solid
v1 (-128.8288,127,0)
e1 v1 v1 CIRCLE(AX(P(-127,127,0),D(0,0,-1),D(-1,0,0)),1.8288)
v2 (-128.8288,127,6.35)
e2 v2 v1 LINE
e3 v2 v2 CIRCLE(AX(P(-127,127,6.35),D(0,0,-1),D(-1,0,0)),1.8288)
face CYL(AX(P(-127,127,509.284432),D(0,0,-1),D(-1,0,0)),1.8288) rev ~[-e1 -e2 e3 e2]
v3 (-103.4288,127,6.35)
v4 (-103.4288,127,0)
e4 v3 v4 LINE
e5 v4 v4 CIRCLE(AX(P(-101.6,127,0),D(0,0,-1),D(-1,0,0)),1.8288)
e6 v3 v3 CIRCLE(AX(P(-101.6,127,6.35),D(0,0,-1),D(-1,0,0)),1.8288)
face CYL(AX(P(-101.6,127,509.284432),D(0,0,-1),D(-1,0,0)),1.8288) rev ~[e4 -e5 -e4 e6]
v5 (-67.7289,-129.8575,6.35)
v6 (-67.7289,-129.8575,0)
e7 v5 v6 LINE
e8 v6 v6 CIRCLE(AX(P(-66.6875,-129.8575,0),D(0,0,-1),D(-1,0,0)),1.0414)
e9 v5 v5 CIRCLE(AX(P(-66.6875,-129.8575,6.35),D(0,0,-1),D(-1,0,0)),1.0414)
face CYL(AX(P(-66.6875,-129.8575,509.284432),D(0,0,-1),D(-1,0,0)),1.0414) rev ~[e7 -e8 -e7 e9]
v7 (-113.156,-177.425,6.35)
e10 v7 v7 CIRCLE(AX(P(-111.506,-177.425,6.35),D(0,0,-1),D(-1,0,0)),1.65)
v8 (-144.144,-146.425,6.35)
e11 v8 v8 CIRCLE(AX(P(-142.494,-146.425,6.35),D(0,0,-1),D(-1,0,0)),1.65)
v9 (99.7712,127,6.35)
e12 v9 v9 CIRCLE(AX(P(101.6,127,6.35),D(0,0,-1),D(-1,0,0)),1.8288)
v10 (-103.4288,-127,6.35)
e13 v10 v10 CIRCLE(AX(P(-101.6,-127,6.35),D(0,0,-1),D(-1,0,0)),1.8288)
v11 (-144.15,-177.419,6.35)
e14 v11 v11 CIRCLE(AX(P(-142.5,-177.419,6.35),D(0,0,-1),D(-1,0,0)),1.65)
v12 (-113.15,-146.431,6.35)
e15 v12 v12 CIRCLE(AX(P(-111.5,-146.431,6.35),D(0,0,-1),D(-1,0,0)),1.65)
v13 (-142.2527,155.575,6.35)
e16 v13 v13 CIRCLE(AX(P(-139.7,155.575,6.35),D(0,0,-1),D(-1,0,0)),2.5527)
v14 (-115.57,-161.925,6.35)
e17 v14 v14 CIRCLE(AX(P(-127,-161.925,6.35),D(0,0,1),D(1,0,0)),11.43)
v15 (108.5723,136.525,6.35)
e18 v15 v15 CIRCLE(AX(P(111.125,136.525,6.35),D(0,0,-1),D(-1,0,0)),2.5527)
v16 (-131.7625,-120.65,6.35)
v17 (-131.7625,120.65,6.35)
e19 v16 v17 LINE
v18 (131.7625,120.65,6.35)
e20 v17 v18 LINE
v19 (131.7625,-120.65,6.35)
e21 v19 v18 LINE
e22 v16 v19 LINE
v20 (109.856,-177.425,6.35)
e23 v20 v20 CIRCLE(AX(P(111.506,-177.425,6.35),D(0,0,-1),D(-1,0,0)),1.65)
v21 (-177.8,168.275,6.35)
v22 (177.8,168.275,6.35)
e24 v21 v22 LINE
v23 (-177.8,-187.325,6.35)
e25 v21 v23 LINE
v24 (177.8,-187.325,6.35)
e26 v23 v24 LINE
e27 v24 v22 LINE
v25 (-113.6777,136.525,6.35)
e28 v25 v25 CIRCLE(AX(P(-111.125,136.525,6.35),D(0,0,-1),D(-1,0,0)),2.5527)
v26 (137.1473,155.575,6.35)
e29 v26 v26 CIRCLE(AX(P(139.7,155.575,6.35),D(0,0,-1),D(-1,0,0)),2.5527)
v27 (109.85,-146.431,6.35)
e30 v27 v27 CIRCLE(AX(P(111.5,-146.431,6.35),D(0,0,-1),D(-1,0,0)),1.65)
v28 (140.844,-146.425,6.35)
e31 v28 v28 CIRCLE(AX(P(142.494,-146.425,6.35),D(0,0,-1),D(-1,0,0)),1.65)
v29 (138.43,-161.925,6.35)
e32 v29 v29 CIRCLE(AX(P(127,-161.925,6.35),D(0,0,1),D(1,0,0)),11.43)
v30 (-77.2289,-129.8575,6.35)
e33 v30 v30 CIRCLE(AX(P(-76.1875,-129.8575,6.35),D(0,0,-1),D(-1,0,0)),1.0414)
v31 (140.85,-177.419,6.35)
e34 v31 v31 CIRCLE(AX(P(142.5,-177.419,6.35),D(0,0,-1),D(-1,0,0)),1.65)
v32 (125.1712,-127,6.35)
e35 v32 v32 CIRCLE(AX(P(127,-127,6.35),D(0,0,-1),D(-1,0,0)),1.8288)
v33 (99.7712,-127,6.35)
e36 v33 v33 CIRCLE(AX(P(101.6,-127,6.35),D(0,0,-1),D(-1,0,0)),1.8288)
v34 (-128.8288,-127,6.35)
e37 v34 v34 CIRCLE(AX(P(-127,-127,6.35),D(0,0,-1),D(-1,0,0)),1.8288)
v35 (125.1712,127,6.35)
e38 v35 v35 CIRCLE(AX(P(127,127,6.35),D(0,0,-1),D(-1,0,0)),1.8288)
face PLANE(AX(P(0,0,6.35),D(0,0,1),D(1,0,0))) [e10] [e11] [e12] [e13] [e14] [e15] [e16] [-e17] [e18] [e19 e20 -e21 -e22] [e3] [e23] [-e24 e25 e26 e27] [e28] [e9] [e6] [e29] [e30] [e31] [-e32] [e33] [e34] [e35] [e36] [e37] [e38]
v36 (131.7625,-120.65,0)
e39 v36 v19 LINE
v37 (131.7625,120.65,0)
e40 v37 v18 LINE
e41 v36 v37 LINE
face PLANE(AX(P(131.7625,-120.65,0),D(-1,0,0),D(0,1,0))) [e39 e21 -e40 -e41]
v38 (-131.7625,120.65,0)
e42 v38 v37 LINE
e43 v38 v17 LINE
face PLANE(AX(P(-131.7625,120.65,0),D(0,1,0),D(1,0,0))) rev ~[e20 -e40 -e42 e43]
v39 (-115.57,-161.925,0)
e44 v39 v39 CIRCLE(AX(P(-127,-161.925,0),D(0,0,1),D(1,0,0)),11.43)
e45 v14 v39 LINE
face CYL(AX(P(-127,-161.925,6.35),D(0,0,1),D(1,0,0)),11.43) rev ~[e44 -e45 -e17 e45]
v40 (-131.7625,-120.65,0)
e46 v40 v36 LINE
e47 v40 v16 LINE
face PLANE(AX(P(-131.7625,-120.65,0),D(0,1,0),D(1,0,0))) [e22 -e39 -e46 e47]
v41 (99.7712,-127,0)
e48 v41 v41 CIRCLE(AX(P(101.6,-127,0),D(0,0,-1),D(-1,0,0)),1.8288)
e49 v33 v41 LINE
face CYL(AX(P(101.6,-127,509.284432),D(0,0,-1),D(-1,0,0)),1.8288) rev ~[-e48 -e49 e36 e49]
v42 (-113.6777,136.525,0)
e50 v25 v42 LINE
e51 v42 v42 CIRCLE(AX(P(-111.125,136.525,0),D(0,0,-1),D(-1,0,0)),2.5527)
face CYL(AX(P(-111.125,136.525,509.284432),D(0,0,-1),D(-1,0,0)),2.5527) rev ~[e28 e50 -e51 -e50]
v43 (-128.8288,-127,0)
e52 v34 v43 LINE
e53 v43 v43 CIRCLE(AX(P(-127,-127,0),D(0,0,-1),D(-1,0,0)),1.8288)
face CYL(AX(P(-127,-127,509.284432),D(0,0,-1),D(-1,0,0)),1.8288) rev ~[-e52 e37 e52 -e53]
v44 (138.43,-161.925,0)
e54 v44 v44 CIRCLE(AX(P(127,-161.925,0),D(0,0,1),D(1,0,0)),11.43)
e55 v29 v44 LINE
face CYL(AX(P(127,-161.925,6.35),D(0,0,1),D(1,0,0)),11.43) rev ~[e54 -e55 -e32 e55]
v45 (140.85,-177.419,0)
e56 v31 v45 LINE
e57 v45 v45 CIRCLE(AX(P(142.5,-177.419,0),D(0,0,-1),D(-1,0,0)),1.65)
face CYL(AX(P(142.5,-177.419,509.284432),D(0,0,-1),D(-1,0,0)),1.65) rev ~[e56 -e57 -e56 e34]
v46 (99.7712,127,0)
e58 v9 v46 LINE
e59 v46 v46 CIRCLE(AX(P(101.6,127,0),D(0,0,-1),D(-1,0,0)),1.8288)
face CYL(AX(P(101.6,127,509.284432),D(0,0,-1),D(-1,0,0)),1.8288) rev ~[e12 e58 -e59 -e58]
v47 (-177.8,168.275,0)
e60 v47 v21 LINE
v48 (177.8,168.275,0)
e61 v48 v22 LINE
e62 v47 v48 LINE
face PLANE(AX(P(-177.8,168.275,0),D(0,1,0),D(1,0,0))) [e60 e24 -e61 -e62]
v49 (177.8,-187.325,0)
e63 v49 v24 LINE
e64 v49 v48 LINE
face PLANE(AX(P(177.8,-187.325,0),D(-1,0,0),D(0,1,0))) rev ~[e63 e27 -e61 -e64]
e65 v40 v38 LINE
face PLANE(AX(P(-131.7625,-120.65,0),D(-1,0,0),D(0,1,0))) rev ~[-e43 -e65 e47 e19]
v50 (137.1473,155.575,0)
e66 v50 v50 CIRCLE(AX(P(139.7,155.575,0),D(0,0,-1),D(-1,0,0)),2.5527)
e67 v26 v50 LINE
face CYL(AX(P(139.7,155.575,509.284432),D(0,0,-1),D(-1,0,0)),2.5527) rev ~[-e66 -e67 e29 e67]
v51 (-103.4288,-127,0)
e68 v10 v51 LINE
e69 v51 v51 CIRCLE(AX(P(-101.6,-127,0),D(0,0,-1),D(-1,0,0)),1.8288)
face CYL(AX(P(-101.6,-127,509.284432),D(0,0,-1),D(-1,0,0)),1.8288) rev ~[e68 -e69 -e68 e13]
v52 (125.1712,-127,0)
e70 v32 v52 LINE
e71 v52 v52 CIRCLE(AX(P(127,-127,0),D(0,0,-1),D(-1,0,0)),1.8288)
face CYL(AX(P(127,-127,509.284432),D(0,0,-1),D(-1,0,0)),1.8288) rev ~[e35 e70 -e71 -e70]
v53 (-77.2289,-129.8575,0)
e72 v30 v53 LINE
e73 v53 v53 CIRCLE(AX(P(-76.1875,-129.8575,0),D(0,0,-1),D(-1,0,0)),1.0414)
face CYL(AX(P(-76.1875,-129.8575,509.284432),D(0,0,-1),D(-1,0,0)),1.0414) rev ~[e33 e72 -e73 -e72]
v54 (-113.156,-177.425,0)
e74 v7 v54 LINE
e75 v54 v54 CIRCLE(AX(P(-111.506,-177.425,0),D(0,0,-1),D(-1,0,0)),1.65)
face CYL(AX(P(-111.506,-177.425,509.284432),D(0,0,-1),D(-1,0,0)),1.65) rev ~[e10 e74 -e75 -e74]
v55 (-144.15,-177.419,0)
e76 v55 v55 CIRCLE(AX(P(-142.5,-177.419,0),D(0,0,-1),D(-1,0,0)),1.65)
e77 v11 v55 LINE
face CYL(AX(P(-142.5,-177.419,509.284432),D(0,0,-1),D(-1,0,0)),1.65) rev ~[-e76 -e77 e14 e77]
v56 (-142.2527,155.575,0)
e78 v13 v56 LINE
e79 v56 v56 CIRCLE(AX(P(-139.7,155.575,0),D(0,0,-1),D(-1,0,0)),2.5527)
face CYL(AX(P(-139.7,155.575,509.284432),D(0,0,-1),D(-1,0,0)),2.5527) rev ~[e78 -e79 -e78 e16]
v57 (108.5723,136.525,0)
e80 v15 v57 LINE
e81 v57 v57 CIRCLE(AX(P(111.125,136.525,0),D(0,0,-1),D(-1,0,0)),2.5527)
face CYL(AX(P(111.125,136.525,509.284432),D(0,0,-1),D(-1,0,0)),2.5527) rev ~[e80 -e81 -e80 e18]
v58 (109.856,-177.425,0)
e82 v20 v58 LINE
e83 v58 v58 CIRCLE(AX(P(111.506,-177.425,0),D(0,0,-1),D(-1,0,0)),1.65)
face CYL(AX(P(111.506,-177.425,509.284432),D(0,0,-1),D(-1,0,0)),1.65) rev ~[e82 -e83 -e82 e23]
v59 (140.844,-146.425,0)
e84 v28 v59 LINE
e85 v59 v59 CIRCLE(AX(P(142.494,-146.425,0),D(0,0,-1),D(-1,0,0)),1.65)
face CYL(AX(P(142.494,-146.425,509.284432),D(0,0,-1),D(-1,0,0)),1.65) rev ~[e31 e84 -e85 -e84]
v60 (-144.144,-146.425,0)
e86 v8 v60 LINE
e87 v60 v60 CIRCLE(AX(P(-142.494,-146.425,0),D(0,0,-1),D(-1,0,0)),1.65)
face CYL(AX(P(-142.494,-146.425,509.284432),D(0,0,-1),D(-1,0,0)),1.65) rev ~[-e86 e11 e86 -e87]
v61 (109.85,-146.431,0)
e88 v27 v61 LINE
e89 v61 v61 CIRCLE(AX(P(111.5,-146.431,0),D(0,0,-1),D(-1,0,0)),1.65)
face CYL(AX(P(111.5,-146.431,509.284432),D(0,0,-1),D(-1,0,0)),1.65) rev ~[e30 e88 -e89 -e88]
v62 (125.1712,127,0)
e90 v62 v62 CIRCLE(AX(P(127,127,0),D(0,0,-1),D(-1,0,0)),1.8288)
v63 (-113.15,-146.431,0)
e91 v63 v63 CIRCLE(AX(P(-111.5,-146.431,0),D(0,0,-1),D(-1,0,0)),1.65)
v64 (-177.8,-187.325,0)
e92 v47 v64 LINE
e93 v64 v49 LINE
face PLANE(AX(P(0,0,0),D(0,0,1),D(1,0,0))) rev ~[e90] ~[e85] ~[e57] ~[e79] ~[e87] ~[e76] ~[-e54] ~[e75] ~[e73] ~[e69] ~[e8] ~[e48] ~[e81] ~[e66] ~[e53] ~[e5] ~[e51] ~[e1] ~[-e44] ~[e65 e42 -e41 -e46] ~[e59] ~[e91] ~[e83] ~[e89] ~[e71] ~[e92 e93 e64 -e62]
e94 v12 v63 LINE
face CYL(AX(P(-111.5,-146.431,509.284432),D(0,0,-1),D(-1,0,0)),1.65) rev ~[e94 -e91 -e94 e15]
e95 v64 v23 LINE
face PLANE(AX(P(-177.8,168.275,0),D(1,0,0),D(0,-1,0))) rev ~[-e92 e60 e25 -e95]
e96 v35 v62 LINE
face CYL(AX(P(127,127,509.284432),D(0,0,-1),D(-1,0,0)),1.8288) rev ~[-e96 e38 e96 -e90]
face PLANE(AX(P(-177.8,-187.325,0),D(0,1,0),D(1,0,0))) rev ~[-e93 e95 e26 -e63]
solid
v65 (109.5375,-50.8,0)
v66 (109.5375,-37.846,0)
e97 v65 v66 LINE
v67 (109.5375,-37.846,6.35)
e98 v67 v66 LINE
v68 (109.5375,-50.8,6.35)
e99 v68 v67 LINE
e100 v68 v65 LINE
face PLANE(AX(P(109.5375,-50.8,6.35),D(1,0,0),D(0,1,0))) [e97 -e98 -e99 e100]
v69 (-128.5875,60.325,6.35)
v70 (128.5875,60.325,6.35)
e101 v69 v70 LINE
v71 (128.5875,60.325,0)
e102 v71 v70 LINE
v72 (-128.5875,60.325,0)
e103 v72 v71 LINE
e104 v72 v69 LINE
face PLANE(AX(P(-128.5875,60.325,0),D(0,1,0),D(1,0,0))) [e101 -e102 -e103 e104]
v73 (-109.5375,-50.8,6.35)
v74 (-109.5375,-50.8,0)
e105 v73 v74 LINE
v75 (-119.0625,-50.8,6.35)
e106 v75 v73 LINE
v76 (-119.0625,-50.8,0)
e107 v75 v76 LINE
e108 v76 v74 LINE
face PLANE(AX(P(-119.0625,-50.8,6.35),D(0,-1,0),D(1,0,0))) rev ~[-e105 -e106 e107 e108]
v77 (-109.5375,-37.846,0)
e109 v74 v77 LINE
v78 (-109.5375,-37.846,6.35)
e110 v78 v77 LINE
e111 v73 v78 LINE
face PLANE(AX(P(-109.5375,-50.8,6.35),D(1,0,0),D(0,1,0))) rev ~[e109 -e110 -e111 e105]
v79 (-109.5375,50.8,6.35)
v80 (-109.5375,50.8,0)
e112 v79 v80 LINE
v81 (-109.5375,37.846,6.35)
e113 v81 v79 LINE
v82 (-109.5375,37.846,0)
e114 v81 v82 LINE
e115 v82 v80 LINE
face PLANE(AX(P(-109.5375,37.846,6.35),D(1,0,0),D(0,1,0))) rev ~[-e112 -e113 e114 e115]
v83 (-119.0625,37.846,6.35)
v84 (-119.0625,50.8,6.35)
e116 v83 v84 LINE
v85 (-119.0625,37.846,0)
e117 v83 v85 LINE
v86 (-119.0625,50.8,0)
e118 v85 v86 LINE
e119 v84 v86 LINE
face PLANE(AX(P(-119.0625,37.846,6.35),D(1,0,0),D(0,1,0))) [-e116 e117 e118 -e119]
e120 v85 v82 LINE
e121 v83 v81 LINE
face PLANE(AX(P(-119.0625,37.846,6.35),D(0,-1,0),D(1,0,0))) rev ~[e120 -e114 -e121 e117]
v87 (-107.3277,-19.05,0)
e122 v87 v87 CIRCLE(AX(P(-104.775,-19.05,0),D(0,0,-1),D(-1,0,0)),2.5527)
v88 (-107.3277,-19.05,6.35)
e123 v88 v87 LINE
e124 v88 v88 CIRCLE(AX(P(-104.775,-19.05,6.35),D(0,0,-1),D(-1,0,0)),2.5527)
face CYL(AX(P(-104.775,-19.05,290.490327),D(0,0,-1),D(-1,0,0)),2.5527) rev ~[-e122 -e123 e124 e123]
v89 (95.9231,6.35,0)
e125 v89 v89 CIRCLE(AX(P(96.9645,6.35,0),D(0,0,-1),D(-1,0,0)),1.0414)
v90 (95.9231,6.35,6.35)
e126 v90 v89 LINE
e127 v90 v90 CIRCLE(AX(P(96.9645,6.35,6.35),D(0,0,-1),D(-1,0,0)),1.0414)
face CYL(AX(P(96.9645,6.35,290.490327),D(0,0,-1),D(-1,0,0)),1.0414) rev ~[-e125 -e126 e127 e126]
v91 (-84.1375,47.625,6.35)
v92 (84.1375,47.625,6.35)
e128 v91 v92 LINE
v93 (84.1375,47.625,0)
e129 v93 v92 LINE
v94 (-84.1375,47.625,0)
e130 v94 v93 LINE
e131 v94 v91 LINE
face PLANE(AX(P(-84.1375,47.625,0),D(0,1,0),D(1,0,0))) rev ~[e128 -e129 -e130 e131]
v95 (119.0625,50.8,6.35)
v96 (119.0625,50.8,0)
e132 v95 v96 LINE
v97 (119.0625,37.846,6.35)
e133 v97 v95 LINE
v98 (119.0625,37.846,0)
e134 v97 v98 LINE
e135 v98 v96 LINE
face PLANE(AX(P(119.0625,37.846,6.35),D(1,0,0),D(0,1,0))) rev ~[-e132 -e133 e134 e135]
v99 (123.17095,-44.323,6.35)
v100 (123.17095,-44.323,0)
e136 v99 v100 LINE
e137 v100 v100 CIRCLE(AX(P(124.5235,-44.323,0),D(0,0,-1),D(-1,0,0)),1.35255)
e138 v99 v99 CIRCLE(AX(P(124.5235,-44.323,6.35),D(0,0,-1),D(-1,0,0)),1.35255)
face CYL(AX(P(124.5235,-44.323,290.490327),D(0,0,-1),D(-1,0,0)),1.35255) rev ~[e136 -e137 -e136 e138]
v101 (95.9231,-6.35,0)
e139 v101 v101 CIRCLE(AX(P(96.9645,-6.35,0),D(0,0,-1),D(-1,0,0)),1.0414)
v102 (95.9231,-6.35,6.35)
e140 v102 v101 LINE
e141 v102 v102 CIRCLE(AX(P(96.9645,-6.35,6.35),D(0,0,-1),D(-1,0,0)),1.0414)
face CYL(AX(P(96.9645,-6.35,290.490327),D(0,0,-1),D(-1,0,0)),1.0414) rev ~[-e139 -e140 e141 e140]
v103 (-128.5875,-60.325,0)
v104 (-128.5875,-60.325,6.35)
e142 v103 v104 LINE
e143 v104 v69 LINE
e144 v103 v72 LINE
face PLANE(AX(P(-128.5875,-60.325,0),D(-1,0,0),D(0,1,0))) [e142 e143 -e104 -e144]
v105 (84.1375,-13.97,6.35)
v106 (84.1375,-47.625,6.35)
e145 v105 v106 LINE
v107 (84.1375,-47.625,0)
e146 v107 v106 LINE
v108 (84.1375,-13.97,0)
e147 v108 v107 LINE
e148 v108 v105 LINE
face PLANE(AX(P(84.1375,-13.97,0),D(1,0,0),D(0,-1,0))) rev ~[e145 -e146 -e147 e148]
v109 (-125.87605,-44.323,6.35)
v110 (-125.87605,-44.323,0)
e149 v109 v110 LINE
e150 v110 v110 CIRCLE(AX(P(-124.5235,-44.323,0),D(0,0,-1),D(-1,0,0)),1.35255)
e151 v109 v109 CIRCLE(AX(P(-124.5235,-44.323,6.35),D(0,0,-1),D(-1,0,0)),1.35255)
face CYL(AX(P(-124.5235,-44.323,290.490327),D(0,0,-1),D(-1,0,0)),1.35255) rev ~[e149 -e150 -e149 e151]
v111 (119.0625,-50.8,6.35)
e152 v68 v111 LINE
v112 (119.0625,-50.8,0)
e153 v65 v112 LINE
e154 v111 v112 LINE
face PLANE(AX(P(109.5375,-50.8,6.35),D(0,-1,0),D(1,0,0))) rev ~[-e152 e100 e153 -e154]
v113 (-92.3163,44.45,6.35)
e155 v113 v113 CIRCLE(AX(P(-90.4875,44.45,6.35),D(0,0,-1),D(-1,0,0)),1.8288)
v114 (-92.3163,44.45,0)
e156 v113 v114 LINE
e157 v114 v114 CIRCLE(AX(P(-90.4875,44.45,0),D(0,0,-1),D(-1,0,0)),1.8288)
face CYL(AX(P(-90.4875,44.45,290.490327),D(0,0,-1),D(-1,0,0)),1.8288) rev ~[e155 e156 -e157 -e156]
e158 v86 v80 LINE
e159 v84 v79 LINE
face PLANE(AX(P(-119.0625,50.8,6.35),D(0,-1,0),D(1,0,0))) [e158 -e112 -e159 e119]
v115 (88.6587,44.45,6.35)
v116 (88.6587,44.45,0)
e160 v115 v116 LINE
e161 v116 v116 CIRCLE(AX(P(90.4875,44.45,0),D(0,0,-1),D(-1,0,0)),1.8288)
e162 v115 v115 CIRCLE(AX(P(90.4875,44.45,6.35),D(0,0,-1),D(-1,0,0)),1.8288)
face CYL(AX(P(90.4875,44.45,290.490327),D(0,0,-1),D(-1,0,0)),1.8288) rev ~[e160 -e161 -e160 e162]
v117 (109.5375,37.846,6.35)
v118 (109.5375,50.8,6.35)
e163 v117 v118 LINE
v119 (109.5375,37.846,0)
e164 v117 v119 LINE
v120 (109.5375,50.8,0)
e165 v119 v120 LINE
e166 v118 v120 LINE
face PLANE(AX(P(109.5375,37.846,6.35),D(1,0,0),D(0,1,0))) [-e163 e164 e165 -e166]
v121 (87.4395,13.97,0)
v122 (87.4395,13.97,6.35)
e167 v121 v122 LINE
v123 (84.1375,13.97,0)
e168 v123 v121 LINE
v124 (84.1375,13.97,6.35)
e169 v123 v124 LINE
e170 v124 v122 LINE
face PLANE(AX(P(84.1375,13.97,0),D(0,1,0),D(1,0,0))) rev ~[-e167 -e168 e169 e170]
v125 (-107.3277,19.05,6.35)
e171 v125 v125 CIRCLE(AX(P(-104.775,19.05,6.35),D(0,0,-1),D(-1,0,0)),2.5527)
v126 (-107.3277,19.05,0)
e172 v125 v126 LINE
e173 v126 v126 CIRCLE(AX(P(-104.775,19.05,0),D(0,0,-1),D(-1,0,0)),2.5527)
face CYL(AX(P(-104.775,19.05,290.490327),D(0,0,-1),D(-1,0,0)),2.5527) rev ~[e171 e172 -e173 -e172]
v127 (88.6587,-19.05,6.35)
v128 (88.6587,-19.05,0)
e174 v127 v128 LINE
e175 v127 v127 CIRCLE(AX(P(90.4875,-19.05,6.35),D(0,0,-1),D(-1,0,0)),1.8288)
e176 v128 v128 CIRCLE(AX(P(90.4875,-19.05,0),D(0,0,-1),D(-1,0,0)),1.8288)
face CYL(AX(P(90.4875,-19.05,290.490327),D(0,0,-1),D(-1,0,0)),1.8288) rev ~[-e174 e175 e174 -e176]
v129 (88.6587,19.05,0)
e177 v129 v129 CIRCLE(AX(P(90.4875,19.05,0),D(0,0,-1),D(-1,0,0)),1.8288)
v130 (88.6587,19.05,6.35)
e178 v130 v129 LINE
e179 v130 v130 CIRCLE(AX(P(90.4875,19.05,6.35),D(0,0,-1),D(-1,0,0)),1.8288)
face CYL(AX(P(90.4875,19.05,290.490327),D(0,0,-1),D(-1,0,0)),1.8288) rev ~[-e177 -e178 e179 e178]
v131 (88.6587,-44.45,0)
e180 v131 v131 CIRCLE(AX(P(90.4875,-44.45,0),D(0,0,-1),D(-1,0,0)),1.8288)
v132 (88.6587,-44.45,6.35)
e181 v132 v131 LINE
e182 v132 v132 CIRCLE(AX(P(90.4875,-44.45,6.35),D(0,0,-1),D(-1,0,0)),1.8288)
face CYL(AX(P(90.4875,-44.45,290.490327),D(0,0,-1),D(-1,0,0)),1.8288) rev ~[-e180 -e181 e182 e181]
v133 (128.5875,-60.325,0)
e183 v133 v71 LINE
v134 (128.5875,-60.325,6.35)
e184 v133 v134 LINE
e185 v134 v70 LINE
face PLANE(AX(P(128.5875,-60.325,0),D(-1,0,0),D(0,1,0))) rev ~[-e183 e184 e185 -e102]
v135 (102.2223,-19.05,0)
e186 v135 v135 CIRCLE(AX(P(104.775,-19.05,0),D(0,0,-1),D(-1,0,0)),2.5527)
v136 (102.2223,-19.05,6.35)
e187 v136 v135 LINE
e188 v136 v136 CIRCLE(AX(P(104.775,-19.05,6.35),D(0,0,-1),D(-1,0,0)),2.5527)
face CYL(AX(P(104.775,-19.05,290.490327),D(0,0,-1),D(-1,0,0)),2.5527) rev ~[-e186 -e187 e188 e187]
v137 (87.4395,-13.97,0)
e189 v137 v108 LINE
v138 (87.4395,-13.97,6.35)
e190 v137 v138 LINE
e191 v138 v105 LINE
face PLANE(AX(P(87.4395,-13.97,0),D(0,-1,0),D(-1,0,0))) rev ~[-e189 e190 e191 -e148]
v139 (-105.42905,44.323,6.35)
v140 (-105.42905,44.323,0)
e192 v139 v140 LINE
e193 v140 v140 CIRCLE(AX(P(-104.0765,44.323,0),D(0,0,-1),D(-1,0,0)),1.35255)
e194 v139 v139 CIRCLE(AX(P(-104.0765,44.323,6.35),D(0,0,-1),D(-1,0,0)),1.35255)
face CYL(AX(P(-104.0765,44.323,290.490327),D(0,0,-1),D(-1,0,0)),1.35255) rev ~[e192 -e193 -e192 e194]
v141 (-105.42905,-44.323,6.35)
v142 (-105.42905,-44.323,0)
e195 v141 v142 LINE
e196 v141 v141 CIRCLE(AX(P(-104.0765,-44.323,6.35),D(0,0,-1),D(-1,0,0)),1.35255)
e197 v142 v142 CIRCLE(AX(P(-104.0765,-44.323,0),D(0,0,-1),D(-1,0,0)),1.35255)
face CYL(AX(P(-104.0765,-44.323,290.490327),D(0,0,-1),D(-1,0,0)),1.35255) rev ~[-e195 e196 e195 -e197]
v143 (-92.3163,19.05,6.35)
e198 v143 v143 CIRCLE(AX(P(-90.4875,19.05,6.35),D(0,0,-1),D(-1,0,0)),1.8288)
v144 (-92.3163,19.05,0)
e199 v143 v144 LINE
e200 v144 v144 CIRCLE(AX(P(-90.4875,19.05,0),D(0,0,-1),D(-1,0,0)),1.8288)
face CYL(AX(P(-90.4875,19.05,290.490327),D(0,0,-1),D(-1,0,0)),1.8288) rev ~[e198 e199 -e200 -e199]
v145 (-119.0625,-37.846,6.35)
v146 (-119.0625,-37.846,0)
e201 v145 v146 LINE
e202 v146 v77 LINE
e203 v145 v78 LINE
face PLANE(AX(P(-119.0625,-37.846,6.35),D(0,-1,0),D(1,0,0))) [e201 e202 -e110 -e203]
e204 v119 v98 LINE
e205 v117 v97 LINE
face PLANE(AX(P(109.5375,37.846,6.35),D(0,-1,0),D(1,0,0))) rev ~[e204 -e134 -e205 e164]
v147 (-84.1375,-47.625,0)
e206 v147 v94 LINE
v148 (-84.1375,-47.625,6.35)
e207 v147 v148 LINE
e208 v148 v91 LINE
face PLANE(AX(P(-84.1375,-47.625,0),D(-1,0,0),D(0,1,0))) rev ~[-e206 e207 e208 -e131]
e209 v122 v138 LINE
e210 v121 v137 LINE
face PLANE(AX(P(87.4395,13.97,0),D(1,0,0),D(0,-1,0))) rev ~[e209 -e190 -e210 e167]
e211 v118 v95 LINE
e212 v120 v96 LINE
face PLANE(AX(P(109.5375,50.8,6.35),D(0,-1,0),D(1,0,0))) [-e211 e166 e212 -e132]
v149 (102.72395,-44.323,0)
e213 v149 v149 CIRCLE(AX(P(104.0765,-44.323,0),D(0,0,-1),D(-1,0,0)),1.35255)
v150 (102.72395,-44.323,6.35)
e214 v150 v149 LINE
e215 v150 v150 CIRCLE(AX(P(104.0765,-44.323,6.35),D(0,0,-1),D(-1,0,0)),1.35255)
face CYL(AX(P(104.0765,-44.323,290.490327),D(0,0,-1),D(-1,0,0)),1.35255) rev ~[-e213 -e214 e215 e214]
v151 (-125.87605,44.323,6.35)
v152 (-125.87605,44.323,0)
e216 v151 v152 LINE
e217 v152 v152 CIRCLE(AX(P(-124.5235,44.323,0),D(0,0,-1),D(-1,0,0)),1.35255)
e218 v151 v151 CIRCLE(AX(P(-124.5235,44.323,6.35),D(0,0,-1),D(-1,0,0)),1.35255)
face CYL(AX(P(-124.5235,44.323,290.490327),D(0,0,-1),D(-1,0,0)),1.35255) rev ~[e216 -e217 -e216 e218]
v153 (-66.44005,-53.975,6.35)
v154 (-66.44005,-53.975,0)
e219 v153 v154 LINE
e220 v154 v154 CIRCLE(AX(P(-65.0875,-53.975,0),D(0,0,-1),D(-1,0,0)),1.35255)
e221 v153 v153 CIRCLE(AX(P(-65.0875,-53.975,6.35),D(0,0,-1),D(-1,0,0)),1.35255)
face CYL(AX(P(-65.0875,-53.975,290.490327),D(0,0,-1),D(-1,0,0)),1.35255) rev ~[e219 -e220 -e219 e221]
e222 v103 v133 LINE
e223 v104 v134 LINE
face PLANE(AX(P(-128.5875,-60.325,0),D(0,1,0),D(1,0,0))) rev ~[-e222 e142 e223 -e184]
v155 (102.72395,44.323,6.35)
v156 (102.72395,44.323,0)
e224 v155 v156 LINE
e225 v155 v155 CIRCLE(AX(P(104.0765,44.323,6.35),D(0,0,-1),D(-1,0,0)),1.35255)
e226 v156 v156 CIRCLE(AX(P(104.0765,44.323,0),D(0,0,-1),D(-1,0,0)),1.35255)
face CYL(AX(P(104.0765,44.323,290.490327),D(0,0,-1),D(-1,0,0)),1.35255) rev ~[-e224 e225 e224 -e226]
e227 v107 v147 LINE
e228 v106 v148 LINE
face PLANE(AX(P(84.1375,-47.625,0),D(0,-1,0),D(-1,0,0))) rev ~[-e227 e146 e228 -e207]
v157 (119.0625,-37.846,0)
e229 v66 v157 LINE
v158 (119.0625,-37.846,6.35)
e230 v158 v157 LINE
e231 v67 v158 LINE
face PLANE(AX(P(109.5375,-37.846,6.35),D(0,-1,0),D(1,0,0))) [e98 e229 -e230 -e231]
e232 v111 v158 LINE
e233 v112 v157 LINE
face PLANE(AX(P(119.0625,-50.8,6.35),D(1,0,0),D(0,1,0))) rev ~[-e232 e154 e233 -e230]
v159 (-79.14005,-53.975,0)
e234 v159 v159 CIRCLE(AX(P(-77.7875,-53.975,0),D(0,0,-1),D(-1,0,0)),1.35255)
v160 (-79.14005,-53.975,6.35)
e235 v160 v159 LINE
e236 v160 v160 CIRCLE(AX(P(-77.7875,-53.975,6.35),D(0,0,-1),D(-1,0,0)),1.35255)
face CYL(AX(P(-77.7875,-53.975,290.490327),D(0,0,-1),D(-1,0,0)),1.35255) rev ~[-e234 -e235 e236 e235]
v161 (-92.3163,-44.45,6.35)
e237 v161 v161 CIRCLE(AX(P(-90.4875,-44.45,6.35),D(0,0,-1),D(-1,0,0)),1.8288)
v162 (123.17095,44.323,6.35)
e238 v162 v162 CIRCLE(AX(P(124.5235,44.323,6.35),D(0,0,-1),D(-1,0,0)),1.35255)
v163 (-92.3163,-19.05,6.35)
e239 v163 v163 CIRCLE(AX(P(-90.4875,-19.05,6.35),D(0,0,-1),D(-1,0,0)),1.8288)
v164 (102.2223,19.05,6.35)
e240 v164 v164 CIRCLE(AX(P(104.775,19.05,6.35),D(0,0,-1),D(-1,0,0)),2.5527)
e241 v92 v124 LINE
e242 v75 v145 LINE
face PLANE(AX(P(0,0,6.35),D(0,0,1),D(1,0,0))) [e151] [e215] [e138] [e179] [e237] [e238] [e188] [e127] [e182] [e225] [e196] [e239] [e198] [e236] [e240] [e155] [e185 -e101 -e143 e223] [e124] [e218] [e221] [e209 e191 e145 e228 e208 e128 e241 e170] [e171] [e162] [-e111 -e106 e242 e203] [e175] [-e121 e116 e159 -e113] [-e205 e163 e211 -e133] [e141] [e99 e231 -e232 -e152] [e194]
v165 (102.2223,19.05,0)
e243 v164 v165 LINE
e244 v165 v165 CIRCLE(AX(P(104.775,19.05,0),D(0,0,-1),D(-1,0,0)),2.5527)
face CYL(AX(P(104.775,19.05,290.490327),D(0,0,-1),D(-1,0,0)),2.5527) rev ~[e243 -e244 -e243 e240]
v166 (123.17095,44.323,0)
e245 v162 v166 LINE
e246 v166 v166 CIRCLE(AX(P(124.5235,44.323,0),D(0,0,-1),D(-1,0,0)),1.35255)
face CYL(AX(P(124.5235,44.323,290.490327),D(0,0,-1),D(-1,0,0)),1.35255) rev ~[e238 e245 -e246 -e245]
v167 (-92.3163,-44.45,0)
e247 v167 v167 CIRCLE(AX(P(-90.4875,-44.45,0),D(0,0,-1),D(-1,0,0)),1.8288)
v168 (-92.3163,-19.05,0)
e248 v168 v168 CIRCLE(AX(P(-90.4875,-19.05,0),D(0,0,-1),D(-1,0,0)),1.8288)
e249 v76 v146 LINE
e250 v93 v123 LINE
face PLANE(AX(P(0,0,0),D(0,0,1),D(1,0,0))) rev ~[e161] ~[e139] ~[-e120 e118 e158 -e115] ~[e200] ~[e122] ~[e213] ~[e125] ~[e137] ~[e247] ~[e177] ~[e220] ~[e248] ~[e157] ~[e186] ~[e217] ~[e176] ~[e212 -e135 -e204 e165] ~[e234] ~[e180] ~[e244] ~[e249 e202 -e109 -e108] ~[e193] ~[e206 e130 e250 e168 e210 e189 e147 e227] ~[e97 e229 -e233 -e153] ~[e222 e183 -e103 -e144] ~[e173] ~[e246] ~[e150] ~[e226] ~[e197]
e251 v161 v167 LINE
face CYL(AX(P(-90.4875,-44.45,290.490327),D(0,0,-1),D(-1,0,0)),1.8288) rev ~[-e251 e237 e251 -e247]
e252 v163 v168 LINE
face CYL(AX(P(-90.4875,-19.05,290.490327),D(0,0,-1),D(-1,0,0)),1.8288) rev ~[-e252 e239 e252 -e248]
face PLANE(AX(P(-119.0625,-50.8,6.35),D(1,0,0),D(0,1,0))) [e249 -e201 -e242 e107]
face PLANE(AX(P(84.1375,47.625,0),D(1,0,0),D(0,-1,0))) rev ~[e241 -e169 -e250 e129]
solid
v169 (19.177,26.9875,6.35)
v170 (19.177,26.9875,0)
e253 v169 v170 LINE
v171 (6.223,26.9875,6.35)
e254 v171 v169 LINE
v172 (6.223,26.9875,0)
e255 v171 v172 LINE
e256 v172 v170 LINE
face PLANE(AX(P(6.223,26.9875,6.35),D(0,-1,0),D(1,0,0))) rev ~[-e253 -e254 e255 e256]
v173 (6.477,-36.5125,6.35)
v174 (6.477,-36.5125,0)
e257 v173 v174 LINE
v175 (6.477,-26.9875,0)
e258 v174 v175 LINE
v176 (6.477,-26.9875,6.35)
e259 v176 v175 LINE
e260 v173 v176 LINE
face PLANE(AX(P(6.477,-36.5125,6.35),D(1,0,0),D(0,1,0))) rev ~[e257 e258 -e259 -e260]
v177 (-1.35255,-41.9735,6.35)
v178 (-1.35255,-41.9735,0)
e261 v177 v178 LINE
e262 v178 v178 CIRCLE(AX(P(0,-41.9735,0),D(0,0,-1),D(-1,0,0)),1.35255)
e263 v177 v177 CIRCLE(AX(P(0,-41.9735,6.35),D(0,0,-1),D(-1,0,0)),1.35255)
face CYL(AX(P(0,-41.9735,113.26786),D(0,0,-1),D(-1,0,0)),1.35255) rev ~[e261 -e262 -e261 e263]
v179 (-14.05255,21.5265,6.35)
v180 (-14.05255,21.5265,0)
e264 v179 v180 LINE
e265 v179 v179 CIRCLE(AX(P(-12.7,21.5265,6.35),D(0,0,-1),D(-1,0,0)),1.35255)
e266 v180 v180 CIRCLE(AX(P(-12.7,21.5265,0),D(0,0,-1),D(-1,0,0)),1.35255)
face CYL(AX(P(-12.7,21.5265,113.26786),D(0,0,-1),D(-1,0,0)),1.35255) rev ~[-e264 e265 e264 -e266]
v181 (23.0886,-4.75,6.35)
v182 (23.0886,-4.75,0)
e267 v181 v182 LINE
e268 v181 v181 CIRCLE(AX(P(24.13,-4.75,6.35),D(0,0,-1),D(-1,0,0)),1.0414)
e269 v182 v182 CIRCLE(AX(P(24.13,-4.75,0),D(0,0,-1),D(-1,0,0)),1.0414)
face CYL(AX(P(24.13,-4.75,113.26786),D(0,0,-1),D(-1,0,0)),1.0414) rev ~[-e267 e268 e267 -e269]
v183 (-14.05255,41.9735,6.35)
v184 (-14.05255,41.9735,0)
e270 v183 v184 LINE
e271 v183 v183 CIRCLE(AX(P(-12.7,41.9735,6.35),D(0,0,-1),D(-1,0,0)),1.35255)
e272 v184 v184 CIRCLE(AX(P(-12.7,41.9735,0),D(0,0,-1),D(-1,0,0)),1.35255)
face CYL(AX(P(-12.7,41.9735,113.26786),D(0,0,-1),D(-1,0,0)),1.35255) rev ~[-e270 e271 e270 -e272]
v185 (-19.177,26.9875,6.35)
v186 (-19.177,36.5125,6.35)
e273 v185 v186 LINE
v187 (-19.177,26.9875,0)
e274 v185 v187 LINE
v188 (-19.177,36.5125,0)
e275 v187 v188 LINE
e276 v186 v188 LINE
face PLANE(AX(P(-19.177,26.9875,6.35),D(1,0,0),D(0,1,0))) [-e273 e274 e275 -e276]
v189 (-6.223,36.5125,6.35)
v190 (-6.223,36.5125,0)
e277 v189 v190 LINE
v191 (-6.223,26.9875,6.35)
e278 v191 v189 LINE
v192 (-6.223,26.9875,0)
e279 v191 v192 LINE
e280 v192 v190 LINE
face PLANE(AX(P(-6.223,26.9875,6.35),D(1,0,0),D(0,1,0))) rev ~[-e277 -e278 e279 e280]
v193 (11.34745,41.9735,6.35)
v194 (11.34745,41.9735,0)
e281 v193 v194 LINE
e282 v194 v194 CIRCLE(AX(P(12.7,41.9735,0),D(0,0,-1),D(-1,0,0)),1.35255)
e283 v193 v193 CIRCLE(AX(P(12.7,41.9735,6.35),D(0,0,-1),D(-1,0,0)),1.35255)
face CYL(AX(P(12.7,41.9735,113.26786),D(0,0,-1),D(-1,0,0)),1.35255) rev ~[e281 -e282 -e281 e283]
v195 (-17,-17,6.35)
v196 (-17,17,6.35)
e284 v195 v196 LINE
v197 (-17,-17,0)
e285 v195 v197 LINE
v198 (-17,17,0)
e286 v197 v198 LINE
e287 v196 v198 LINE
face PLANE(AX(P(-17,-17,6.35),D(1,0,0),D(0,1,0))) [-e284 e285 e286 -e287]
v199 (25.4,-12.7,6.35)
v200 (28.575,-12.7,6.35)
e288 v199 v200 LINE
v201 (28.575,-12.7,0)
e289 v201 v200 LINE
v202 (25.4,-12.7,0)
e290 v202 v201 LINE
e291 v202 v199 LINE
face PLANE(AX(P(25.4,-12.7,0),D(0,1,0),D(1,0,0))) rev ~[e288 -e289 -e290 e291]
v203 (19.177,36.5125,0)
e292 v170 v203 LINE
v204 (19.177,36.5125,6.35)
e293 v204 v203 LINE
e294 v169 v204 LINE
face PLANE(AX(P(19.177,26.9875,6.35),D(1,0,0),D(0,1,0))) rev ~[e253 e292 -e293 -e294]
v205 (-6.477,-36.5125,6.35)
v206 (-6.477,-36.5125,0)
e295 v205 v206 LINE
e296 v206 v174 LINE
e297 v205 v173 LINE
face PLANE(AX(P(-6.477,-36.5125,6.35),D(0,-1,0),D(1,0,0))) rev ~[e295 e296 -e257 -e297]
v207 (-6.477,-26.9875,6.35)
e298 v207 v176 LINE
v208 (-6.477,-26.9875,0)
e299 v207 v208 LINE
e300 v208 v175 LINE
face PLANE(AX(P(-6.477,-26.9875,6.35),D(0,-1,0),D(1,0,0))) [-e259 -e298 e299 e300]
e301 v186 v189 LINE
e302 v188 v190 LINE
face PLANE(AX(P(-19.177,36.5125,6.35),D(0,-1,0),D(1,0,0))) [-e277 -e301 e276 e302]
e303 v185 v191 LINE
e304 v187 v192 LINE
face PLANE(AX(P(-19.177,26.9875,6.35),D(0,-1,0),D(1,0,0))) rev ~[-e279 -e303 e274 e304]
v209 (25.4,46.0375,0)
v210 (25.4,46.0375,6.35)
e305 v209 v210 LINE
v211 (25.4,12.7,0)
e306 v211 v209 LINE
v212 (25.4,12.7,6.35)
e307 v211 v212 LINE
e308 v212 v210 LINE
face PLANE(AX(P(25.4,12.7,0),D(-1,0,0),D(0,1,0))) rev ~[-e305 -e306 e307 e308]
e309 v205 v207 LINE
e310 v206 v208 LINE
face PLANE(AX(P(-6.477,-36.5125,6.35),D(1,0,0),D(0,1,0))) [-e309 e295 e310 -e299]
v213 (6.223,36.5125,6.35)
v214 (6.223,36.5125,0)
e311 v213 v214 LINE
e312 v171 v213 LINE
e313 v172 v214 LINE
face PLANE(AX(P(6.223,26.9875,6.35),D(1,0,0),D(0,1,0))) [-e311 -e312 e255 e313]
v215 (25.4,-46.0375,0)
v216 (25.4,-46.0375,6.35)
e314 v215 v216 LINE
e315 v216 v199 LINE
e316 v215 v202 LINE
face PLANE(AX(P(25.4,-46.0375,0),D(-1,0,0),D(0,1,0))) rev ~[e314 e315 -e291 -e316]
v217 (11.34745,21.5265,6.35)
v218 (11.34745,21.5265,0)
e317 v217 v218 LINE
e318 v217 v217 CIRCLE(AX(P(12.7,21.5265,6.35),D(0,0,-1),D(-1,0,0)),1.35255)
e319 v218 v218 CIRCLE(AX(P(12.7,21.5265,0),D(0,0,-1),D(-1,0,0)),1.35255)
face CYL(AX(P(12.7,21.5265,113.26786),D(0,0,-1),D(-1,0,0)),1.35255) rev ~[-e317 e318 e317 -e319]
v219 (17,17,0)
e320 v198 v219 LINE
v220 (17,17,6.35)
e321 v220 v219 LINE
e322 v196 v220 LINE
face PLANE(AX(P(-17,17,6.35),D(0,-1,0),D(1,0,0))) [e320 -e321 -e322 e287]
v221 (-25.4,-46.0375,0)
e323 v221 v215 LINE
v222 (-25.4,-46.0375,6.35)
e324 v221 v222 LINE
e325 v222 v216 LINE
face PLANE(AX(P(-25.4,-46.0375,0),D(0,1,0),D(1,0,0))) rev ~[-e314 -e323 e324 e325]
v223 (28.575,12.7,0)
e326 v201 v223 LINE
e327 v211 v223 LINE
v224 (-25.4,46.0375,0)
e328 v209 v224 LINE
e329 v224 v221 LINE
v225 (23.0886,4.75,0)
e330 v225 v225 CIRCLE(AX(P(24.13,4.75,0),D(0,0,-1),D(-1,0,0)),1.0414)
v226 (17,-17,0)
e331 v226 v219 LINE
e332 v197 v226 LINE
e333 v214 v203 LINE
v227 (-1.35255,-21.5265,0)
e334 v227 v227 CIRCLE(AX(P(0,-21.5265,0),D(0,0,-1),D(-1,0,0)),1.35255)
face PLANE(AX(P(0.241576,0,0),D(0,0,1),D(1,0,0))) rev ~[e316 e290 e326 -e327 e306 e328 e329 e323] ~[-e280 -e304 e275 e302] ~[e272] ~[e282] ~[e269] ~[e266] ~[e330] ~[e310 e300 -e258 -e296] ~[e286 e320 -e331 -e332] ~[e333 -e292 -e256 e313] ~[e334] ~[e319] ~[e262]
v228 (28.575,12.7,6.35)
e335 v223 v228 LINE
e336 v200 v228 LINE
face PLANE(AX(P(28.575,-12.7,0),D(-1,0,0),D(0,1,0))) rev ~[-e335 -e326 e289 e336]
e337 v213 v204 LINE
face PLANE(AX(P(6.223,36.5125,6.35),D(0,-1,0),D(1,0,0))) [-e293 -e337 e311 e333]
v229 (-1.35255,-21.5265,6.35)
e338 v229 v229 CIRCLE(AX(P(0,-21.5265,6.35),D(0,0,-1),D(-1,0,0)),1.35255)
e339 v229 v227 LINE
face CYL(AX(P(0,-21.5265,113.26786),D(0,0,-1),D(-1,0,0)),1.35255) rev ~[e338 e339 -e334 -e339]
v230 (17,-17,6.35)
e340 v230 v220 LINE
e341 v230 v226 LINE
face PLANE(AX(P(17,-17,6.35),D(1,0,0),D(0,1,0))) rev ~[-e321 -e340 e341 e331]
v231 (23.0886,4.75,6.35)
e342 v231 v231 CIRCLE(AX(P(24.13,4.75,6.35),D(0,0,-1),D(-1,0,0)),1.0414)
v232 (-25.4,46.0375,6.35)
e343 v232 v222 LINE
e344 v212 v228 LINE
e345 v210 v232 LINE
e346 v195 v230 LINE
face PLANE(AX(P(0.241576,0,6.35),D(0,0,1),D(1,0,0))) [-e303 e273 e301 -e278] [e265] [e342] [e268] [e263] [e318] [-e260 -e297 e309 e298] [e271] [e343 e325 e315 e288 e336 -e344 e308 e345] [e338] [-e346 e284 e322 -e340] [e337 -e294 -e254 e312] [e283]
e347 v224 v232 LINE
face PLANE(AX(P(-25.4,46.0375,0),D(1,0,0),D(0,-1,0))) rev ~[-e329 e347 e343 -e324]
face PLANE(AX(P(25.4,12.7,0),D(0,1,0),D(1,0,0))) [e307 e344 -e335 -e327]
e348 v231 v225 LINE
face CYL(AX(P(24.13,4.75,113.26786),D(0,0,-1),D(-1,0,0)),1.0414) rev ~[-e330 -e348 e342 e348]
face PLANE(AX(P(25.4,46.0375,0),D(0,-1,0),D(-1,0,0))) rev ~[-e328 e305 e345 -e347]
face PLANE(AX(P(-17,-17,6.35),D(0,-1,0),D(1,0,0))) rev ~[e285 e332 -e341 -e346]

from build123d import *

# Parameters (mm, degrees)
F0_W        = 257.175
F0_H        = 120.65
F1_DEPTH    = 6.35
F0_W_2      = 3.175
F0_H_2      = 25.4
F2_DEPTH    = 6.35
F0_W_3      = 355.6
F0_H_3      = 336.55
F0_W_4      = 263.525
F0_H_4      = 241.3
F0_H_5      = 19.05
F3_DEPTH    = 6.35
F4_R        = 11.43
F5_DEPTH    = 25.4
F6_D        = 3.3
F7_W        = 9.525
F7_H        = 12.954
F7_W_2      = 12.954
F7_H_2      = 9.525
F7_W_3      = 34
F7_H_3      = 34
F8_DEPTH    = 25.4
F9_D        = 2.7051
F9_2_D      = 2.7051
F11_D       = 3.6576
F11_ON_F7_D = 3.6576
F12_D       = 2.0828
F12_2_D     = 2.0828
F13_D       = 2.0828
F14_D       = 5.1054
F15_D       = 5.1054


with BuildPart() as f1:
    # F0 (on Top) → F1 (new body)
    with BuildSketch(Plane.XY):
        Rectangle(F0_W, F0_H)
        Polygon((-84.1375, 47.625), (84.1375, 47.625), (84.1375, 13.97), (87.4395, 13.97), (87.4395, -13.97), (84.1375, -13.97), (84.1375, -47.625), (-84.1375, -47.625), align=None, mode=Mode.SUBTRACT)
    extrude(amount=F1_DEPTH)


with BuildPart() as f2:
    # F0 (on Top) → F2 (new body)
    with BuildSketch(Plane.XY):
        Polygon((25.4, 12.7), (25.4, 46.0375), (-25.4, 46.0375), (-25.4, -46.0375), (25.4, -46.0375), (25.4, -12.7), (22.225, -12.7), (22.225, 12.7), align=None)
        with Locations((23.8125, 0)):
            Rectangle(F0_W_2, F0_H_2)
        with Locations((26.9875, 0)):
            Rectangle(F0_W_2, F0_H_2)
    extrude(amount=F2_DEPTH)


with BuildPart() as f3:
    # F0 (on Top) → F3 (new body)
    with BuildSketch(Plane.XY):
        Rectangle(F0_W_3, F0_H_3)
        Rectangle(F0_W_4, F0_H_4, mode=Mode.SUBTRACT)
        with Locations((0, -177.8)):
            Rectangle(F0_W_3, F0_H_5)
    extrude(amount=F3_DEPTH)

    # F4 (on face) → F5 (cut)
    with BuildSketch(Plane.XY.offset(6.35)):
        with Locations((-127, -161.925)):
            Circle(F4_R)
        with Locations((127, -161.925)):
            Circle(F4_R)
    extrude(amount=-F5_DEPTH, mode=Mode.SUBTRACT)

    # F6 (through all)
    with Locations(Plane.XY.offset(6.35)):
        with Locations((-142.494, -146.425), (-111.5, -146.431), (-111.506, -177.425), (-142.5, -177.419), (111.5, -146.431), (142.494, -146.425), (111.506, -177.425), (142.5, -177.419)):
            Hole(F6_D / 2)

    # F11 (through all)
    with Locations(Plane.XY.offset(6.35)):
        with Locations((-127, -127), (-101.6, -127), (-127, 127), (-101.6, 127), (101.6, 127), (127, 127), (127, -127), (101.6, -127)):
            Hole(F11_D / 2)

    # F12#2 (through all)
    with Locations(Plane.XY.offset(6.35)):
        with Locations((-76.1875, -129.8575), (-66.6875, -129.8575), (96.9645, 6.35), (96.9645, -6.35)):
            Hole(F12_2_D / 2)

    # F15 (through all)
    with Locations(Plane.XY.offset(6.35)):
        with Locations((-139.7, 155.575), (-111.125, 136.525), (111.125, 136.525), (139.7, 155.575)):
            Hole(F15_D / 2)


with BuildPart() as f8_tool:
    # F7 (on face) → F8 (new body)
    with BuildSketch(Plane.XY.offset(6.35)):
        with Locations((-114.3, -44.323)):
            Rectangle(F7_W, F7_H)
        with Locations((-114.3, 44.323)):
            Rectangle(F7_W, F7_H)
        with Locations((-12.7, 31.75)):
            Rectangle(F7_W_2, F7_H_2)
        with Locations((114.3, -44.323)):
            Rectangle(F7_W, F7_H)
        with Locations((114.3, 44.323)):
            Rectangle(F7_W, F7_H)
        with Locations((0, -31.75)):
            Rectangle(F7_W_2, F7_H_2)
        with Locations((12.7, 31.75)):
            Rectangle(F7_W_2, F7_H_2)
        Rectangle(F7_W_3, F7_H_3)
    extrude(amount=-F8_DEPTH)


with BuildPart() as f1_1:
    add(f1.part)

    # F8: cut by f8_tool
    add(f8_tool.part, mode=Mode.SUBTRACT)

    # F9 (through all)
    with Locations(Plane.XY.offset(6.35)):
        with Locations((-124.5235, 44.323), (-104.0765, 44.323), (-124.5235, -44.323), (-104.0765, -44.323), (-12.7, 21.5265), (-12.7, 41.9735), (12.7, 41.9735), (12.7, 21.5265), (0, -21.5265), (0, -41.9735), (104.0765, 44.323), (124.5235, 44.323), (104.0765, -44.323), (124.5235, -44.323), (-77.7875, -53.975), (-65.0875, -53.975)):
            Hole(F9_D / 2)

    # F11 on F7 (through all)
    with Locations(Plane.XY.offset(6.35)):
        with Locations((-90.4875, 44.45), (-90.4875, 19.05), (-90.4875, -19.05), (-90.4875, -44.45), (90.4875, -44.45), (90.4875, -19.05), (90.4875, 19.05), (90.4875, 44.45)):
            Hole(F11_ON_F7_D / 2)

    # F12 (through all)
    with Locations(Plane.XY.offset(6.35)):
        with Locations((-76.1875, -129.8575), (-66.6875, -129.8575), (96.9645, 6.35), (96.9645, -6.35)):
            Hole(F12_D / 2)

    # F14 (through all)
    with Locations(Plane.XY.offset(6.35)):
        with Locations((-104.775, 19.05), (-104.775, -19.05), (104.775, -19.05), (104.775, 19.05)):
            Hole(F14_D / 2)


with BuildPart() as f2_1:
    add(f2.part)

    # F8: cut by f8_tool
    add(f8_tool.part, mode=Mode.SUBTRACT)

    # F9#2 (through all)
    with Locations(Plane.XY.offset(6.35)):
        with Locations((-124.5235, 44.323), (-104.0765, 44.323), (-124.5235, -44.323), (-104.0765, -44.323), (-12.7, 21.5265), (-12.7, 41.9735), (12.7, 41.9735), (12.7, 21.5265), (0, -21.5265), (0, -41.9735), (104.0765, 44.323), (124.5235, 44.323), (104.0765, -44.323), (124.5235, -44.323), (-77.7875, -53.975), (-65.0875, -53.975)):
            Hole(F9_2_D / 2)

    # F13 (through all)
    with Locations(Plane.XY.offset(6.35)):
        with Locations((24.13, 4.75), (24.13, -4.75)):
            Hole(F13_D / 2)


solid = Compound([f3.part, f1_1.part, f2_1.part])
